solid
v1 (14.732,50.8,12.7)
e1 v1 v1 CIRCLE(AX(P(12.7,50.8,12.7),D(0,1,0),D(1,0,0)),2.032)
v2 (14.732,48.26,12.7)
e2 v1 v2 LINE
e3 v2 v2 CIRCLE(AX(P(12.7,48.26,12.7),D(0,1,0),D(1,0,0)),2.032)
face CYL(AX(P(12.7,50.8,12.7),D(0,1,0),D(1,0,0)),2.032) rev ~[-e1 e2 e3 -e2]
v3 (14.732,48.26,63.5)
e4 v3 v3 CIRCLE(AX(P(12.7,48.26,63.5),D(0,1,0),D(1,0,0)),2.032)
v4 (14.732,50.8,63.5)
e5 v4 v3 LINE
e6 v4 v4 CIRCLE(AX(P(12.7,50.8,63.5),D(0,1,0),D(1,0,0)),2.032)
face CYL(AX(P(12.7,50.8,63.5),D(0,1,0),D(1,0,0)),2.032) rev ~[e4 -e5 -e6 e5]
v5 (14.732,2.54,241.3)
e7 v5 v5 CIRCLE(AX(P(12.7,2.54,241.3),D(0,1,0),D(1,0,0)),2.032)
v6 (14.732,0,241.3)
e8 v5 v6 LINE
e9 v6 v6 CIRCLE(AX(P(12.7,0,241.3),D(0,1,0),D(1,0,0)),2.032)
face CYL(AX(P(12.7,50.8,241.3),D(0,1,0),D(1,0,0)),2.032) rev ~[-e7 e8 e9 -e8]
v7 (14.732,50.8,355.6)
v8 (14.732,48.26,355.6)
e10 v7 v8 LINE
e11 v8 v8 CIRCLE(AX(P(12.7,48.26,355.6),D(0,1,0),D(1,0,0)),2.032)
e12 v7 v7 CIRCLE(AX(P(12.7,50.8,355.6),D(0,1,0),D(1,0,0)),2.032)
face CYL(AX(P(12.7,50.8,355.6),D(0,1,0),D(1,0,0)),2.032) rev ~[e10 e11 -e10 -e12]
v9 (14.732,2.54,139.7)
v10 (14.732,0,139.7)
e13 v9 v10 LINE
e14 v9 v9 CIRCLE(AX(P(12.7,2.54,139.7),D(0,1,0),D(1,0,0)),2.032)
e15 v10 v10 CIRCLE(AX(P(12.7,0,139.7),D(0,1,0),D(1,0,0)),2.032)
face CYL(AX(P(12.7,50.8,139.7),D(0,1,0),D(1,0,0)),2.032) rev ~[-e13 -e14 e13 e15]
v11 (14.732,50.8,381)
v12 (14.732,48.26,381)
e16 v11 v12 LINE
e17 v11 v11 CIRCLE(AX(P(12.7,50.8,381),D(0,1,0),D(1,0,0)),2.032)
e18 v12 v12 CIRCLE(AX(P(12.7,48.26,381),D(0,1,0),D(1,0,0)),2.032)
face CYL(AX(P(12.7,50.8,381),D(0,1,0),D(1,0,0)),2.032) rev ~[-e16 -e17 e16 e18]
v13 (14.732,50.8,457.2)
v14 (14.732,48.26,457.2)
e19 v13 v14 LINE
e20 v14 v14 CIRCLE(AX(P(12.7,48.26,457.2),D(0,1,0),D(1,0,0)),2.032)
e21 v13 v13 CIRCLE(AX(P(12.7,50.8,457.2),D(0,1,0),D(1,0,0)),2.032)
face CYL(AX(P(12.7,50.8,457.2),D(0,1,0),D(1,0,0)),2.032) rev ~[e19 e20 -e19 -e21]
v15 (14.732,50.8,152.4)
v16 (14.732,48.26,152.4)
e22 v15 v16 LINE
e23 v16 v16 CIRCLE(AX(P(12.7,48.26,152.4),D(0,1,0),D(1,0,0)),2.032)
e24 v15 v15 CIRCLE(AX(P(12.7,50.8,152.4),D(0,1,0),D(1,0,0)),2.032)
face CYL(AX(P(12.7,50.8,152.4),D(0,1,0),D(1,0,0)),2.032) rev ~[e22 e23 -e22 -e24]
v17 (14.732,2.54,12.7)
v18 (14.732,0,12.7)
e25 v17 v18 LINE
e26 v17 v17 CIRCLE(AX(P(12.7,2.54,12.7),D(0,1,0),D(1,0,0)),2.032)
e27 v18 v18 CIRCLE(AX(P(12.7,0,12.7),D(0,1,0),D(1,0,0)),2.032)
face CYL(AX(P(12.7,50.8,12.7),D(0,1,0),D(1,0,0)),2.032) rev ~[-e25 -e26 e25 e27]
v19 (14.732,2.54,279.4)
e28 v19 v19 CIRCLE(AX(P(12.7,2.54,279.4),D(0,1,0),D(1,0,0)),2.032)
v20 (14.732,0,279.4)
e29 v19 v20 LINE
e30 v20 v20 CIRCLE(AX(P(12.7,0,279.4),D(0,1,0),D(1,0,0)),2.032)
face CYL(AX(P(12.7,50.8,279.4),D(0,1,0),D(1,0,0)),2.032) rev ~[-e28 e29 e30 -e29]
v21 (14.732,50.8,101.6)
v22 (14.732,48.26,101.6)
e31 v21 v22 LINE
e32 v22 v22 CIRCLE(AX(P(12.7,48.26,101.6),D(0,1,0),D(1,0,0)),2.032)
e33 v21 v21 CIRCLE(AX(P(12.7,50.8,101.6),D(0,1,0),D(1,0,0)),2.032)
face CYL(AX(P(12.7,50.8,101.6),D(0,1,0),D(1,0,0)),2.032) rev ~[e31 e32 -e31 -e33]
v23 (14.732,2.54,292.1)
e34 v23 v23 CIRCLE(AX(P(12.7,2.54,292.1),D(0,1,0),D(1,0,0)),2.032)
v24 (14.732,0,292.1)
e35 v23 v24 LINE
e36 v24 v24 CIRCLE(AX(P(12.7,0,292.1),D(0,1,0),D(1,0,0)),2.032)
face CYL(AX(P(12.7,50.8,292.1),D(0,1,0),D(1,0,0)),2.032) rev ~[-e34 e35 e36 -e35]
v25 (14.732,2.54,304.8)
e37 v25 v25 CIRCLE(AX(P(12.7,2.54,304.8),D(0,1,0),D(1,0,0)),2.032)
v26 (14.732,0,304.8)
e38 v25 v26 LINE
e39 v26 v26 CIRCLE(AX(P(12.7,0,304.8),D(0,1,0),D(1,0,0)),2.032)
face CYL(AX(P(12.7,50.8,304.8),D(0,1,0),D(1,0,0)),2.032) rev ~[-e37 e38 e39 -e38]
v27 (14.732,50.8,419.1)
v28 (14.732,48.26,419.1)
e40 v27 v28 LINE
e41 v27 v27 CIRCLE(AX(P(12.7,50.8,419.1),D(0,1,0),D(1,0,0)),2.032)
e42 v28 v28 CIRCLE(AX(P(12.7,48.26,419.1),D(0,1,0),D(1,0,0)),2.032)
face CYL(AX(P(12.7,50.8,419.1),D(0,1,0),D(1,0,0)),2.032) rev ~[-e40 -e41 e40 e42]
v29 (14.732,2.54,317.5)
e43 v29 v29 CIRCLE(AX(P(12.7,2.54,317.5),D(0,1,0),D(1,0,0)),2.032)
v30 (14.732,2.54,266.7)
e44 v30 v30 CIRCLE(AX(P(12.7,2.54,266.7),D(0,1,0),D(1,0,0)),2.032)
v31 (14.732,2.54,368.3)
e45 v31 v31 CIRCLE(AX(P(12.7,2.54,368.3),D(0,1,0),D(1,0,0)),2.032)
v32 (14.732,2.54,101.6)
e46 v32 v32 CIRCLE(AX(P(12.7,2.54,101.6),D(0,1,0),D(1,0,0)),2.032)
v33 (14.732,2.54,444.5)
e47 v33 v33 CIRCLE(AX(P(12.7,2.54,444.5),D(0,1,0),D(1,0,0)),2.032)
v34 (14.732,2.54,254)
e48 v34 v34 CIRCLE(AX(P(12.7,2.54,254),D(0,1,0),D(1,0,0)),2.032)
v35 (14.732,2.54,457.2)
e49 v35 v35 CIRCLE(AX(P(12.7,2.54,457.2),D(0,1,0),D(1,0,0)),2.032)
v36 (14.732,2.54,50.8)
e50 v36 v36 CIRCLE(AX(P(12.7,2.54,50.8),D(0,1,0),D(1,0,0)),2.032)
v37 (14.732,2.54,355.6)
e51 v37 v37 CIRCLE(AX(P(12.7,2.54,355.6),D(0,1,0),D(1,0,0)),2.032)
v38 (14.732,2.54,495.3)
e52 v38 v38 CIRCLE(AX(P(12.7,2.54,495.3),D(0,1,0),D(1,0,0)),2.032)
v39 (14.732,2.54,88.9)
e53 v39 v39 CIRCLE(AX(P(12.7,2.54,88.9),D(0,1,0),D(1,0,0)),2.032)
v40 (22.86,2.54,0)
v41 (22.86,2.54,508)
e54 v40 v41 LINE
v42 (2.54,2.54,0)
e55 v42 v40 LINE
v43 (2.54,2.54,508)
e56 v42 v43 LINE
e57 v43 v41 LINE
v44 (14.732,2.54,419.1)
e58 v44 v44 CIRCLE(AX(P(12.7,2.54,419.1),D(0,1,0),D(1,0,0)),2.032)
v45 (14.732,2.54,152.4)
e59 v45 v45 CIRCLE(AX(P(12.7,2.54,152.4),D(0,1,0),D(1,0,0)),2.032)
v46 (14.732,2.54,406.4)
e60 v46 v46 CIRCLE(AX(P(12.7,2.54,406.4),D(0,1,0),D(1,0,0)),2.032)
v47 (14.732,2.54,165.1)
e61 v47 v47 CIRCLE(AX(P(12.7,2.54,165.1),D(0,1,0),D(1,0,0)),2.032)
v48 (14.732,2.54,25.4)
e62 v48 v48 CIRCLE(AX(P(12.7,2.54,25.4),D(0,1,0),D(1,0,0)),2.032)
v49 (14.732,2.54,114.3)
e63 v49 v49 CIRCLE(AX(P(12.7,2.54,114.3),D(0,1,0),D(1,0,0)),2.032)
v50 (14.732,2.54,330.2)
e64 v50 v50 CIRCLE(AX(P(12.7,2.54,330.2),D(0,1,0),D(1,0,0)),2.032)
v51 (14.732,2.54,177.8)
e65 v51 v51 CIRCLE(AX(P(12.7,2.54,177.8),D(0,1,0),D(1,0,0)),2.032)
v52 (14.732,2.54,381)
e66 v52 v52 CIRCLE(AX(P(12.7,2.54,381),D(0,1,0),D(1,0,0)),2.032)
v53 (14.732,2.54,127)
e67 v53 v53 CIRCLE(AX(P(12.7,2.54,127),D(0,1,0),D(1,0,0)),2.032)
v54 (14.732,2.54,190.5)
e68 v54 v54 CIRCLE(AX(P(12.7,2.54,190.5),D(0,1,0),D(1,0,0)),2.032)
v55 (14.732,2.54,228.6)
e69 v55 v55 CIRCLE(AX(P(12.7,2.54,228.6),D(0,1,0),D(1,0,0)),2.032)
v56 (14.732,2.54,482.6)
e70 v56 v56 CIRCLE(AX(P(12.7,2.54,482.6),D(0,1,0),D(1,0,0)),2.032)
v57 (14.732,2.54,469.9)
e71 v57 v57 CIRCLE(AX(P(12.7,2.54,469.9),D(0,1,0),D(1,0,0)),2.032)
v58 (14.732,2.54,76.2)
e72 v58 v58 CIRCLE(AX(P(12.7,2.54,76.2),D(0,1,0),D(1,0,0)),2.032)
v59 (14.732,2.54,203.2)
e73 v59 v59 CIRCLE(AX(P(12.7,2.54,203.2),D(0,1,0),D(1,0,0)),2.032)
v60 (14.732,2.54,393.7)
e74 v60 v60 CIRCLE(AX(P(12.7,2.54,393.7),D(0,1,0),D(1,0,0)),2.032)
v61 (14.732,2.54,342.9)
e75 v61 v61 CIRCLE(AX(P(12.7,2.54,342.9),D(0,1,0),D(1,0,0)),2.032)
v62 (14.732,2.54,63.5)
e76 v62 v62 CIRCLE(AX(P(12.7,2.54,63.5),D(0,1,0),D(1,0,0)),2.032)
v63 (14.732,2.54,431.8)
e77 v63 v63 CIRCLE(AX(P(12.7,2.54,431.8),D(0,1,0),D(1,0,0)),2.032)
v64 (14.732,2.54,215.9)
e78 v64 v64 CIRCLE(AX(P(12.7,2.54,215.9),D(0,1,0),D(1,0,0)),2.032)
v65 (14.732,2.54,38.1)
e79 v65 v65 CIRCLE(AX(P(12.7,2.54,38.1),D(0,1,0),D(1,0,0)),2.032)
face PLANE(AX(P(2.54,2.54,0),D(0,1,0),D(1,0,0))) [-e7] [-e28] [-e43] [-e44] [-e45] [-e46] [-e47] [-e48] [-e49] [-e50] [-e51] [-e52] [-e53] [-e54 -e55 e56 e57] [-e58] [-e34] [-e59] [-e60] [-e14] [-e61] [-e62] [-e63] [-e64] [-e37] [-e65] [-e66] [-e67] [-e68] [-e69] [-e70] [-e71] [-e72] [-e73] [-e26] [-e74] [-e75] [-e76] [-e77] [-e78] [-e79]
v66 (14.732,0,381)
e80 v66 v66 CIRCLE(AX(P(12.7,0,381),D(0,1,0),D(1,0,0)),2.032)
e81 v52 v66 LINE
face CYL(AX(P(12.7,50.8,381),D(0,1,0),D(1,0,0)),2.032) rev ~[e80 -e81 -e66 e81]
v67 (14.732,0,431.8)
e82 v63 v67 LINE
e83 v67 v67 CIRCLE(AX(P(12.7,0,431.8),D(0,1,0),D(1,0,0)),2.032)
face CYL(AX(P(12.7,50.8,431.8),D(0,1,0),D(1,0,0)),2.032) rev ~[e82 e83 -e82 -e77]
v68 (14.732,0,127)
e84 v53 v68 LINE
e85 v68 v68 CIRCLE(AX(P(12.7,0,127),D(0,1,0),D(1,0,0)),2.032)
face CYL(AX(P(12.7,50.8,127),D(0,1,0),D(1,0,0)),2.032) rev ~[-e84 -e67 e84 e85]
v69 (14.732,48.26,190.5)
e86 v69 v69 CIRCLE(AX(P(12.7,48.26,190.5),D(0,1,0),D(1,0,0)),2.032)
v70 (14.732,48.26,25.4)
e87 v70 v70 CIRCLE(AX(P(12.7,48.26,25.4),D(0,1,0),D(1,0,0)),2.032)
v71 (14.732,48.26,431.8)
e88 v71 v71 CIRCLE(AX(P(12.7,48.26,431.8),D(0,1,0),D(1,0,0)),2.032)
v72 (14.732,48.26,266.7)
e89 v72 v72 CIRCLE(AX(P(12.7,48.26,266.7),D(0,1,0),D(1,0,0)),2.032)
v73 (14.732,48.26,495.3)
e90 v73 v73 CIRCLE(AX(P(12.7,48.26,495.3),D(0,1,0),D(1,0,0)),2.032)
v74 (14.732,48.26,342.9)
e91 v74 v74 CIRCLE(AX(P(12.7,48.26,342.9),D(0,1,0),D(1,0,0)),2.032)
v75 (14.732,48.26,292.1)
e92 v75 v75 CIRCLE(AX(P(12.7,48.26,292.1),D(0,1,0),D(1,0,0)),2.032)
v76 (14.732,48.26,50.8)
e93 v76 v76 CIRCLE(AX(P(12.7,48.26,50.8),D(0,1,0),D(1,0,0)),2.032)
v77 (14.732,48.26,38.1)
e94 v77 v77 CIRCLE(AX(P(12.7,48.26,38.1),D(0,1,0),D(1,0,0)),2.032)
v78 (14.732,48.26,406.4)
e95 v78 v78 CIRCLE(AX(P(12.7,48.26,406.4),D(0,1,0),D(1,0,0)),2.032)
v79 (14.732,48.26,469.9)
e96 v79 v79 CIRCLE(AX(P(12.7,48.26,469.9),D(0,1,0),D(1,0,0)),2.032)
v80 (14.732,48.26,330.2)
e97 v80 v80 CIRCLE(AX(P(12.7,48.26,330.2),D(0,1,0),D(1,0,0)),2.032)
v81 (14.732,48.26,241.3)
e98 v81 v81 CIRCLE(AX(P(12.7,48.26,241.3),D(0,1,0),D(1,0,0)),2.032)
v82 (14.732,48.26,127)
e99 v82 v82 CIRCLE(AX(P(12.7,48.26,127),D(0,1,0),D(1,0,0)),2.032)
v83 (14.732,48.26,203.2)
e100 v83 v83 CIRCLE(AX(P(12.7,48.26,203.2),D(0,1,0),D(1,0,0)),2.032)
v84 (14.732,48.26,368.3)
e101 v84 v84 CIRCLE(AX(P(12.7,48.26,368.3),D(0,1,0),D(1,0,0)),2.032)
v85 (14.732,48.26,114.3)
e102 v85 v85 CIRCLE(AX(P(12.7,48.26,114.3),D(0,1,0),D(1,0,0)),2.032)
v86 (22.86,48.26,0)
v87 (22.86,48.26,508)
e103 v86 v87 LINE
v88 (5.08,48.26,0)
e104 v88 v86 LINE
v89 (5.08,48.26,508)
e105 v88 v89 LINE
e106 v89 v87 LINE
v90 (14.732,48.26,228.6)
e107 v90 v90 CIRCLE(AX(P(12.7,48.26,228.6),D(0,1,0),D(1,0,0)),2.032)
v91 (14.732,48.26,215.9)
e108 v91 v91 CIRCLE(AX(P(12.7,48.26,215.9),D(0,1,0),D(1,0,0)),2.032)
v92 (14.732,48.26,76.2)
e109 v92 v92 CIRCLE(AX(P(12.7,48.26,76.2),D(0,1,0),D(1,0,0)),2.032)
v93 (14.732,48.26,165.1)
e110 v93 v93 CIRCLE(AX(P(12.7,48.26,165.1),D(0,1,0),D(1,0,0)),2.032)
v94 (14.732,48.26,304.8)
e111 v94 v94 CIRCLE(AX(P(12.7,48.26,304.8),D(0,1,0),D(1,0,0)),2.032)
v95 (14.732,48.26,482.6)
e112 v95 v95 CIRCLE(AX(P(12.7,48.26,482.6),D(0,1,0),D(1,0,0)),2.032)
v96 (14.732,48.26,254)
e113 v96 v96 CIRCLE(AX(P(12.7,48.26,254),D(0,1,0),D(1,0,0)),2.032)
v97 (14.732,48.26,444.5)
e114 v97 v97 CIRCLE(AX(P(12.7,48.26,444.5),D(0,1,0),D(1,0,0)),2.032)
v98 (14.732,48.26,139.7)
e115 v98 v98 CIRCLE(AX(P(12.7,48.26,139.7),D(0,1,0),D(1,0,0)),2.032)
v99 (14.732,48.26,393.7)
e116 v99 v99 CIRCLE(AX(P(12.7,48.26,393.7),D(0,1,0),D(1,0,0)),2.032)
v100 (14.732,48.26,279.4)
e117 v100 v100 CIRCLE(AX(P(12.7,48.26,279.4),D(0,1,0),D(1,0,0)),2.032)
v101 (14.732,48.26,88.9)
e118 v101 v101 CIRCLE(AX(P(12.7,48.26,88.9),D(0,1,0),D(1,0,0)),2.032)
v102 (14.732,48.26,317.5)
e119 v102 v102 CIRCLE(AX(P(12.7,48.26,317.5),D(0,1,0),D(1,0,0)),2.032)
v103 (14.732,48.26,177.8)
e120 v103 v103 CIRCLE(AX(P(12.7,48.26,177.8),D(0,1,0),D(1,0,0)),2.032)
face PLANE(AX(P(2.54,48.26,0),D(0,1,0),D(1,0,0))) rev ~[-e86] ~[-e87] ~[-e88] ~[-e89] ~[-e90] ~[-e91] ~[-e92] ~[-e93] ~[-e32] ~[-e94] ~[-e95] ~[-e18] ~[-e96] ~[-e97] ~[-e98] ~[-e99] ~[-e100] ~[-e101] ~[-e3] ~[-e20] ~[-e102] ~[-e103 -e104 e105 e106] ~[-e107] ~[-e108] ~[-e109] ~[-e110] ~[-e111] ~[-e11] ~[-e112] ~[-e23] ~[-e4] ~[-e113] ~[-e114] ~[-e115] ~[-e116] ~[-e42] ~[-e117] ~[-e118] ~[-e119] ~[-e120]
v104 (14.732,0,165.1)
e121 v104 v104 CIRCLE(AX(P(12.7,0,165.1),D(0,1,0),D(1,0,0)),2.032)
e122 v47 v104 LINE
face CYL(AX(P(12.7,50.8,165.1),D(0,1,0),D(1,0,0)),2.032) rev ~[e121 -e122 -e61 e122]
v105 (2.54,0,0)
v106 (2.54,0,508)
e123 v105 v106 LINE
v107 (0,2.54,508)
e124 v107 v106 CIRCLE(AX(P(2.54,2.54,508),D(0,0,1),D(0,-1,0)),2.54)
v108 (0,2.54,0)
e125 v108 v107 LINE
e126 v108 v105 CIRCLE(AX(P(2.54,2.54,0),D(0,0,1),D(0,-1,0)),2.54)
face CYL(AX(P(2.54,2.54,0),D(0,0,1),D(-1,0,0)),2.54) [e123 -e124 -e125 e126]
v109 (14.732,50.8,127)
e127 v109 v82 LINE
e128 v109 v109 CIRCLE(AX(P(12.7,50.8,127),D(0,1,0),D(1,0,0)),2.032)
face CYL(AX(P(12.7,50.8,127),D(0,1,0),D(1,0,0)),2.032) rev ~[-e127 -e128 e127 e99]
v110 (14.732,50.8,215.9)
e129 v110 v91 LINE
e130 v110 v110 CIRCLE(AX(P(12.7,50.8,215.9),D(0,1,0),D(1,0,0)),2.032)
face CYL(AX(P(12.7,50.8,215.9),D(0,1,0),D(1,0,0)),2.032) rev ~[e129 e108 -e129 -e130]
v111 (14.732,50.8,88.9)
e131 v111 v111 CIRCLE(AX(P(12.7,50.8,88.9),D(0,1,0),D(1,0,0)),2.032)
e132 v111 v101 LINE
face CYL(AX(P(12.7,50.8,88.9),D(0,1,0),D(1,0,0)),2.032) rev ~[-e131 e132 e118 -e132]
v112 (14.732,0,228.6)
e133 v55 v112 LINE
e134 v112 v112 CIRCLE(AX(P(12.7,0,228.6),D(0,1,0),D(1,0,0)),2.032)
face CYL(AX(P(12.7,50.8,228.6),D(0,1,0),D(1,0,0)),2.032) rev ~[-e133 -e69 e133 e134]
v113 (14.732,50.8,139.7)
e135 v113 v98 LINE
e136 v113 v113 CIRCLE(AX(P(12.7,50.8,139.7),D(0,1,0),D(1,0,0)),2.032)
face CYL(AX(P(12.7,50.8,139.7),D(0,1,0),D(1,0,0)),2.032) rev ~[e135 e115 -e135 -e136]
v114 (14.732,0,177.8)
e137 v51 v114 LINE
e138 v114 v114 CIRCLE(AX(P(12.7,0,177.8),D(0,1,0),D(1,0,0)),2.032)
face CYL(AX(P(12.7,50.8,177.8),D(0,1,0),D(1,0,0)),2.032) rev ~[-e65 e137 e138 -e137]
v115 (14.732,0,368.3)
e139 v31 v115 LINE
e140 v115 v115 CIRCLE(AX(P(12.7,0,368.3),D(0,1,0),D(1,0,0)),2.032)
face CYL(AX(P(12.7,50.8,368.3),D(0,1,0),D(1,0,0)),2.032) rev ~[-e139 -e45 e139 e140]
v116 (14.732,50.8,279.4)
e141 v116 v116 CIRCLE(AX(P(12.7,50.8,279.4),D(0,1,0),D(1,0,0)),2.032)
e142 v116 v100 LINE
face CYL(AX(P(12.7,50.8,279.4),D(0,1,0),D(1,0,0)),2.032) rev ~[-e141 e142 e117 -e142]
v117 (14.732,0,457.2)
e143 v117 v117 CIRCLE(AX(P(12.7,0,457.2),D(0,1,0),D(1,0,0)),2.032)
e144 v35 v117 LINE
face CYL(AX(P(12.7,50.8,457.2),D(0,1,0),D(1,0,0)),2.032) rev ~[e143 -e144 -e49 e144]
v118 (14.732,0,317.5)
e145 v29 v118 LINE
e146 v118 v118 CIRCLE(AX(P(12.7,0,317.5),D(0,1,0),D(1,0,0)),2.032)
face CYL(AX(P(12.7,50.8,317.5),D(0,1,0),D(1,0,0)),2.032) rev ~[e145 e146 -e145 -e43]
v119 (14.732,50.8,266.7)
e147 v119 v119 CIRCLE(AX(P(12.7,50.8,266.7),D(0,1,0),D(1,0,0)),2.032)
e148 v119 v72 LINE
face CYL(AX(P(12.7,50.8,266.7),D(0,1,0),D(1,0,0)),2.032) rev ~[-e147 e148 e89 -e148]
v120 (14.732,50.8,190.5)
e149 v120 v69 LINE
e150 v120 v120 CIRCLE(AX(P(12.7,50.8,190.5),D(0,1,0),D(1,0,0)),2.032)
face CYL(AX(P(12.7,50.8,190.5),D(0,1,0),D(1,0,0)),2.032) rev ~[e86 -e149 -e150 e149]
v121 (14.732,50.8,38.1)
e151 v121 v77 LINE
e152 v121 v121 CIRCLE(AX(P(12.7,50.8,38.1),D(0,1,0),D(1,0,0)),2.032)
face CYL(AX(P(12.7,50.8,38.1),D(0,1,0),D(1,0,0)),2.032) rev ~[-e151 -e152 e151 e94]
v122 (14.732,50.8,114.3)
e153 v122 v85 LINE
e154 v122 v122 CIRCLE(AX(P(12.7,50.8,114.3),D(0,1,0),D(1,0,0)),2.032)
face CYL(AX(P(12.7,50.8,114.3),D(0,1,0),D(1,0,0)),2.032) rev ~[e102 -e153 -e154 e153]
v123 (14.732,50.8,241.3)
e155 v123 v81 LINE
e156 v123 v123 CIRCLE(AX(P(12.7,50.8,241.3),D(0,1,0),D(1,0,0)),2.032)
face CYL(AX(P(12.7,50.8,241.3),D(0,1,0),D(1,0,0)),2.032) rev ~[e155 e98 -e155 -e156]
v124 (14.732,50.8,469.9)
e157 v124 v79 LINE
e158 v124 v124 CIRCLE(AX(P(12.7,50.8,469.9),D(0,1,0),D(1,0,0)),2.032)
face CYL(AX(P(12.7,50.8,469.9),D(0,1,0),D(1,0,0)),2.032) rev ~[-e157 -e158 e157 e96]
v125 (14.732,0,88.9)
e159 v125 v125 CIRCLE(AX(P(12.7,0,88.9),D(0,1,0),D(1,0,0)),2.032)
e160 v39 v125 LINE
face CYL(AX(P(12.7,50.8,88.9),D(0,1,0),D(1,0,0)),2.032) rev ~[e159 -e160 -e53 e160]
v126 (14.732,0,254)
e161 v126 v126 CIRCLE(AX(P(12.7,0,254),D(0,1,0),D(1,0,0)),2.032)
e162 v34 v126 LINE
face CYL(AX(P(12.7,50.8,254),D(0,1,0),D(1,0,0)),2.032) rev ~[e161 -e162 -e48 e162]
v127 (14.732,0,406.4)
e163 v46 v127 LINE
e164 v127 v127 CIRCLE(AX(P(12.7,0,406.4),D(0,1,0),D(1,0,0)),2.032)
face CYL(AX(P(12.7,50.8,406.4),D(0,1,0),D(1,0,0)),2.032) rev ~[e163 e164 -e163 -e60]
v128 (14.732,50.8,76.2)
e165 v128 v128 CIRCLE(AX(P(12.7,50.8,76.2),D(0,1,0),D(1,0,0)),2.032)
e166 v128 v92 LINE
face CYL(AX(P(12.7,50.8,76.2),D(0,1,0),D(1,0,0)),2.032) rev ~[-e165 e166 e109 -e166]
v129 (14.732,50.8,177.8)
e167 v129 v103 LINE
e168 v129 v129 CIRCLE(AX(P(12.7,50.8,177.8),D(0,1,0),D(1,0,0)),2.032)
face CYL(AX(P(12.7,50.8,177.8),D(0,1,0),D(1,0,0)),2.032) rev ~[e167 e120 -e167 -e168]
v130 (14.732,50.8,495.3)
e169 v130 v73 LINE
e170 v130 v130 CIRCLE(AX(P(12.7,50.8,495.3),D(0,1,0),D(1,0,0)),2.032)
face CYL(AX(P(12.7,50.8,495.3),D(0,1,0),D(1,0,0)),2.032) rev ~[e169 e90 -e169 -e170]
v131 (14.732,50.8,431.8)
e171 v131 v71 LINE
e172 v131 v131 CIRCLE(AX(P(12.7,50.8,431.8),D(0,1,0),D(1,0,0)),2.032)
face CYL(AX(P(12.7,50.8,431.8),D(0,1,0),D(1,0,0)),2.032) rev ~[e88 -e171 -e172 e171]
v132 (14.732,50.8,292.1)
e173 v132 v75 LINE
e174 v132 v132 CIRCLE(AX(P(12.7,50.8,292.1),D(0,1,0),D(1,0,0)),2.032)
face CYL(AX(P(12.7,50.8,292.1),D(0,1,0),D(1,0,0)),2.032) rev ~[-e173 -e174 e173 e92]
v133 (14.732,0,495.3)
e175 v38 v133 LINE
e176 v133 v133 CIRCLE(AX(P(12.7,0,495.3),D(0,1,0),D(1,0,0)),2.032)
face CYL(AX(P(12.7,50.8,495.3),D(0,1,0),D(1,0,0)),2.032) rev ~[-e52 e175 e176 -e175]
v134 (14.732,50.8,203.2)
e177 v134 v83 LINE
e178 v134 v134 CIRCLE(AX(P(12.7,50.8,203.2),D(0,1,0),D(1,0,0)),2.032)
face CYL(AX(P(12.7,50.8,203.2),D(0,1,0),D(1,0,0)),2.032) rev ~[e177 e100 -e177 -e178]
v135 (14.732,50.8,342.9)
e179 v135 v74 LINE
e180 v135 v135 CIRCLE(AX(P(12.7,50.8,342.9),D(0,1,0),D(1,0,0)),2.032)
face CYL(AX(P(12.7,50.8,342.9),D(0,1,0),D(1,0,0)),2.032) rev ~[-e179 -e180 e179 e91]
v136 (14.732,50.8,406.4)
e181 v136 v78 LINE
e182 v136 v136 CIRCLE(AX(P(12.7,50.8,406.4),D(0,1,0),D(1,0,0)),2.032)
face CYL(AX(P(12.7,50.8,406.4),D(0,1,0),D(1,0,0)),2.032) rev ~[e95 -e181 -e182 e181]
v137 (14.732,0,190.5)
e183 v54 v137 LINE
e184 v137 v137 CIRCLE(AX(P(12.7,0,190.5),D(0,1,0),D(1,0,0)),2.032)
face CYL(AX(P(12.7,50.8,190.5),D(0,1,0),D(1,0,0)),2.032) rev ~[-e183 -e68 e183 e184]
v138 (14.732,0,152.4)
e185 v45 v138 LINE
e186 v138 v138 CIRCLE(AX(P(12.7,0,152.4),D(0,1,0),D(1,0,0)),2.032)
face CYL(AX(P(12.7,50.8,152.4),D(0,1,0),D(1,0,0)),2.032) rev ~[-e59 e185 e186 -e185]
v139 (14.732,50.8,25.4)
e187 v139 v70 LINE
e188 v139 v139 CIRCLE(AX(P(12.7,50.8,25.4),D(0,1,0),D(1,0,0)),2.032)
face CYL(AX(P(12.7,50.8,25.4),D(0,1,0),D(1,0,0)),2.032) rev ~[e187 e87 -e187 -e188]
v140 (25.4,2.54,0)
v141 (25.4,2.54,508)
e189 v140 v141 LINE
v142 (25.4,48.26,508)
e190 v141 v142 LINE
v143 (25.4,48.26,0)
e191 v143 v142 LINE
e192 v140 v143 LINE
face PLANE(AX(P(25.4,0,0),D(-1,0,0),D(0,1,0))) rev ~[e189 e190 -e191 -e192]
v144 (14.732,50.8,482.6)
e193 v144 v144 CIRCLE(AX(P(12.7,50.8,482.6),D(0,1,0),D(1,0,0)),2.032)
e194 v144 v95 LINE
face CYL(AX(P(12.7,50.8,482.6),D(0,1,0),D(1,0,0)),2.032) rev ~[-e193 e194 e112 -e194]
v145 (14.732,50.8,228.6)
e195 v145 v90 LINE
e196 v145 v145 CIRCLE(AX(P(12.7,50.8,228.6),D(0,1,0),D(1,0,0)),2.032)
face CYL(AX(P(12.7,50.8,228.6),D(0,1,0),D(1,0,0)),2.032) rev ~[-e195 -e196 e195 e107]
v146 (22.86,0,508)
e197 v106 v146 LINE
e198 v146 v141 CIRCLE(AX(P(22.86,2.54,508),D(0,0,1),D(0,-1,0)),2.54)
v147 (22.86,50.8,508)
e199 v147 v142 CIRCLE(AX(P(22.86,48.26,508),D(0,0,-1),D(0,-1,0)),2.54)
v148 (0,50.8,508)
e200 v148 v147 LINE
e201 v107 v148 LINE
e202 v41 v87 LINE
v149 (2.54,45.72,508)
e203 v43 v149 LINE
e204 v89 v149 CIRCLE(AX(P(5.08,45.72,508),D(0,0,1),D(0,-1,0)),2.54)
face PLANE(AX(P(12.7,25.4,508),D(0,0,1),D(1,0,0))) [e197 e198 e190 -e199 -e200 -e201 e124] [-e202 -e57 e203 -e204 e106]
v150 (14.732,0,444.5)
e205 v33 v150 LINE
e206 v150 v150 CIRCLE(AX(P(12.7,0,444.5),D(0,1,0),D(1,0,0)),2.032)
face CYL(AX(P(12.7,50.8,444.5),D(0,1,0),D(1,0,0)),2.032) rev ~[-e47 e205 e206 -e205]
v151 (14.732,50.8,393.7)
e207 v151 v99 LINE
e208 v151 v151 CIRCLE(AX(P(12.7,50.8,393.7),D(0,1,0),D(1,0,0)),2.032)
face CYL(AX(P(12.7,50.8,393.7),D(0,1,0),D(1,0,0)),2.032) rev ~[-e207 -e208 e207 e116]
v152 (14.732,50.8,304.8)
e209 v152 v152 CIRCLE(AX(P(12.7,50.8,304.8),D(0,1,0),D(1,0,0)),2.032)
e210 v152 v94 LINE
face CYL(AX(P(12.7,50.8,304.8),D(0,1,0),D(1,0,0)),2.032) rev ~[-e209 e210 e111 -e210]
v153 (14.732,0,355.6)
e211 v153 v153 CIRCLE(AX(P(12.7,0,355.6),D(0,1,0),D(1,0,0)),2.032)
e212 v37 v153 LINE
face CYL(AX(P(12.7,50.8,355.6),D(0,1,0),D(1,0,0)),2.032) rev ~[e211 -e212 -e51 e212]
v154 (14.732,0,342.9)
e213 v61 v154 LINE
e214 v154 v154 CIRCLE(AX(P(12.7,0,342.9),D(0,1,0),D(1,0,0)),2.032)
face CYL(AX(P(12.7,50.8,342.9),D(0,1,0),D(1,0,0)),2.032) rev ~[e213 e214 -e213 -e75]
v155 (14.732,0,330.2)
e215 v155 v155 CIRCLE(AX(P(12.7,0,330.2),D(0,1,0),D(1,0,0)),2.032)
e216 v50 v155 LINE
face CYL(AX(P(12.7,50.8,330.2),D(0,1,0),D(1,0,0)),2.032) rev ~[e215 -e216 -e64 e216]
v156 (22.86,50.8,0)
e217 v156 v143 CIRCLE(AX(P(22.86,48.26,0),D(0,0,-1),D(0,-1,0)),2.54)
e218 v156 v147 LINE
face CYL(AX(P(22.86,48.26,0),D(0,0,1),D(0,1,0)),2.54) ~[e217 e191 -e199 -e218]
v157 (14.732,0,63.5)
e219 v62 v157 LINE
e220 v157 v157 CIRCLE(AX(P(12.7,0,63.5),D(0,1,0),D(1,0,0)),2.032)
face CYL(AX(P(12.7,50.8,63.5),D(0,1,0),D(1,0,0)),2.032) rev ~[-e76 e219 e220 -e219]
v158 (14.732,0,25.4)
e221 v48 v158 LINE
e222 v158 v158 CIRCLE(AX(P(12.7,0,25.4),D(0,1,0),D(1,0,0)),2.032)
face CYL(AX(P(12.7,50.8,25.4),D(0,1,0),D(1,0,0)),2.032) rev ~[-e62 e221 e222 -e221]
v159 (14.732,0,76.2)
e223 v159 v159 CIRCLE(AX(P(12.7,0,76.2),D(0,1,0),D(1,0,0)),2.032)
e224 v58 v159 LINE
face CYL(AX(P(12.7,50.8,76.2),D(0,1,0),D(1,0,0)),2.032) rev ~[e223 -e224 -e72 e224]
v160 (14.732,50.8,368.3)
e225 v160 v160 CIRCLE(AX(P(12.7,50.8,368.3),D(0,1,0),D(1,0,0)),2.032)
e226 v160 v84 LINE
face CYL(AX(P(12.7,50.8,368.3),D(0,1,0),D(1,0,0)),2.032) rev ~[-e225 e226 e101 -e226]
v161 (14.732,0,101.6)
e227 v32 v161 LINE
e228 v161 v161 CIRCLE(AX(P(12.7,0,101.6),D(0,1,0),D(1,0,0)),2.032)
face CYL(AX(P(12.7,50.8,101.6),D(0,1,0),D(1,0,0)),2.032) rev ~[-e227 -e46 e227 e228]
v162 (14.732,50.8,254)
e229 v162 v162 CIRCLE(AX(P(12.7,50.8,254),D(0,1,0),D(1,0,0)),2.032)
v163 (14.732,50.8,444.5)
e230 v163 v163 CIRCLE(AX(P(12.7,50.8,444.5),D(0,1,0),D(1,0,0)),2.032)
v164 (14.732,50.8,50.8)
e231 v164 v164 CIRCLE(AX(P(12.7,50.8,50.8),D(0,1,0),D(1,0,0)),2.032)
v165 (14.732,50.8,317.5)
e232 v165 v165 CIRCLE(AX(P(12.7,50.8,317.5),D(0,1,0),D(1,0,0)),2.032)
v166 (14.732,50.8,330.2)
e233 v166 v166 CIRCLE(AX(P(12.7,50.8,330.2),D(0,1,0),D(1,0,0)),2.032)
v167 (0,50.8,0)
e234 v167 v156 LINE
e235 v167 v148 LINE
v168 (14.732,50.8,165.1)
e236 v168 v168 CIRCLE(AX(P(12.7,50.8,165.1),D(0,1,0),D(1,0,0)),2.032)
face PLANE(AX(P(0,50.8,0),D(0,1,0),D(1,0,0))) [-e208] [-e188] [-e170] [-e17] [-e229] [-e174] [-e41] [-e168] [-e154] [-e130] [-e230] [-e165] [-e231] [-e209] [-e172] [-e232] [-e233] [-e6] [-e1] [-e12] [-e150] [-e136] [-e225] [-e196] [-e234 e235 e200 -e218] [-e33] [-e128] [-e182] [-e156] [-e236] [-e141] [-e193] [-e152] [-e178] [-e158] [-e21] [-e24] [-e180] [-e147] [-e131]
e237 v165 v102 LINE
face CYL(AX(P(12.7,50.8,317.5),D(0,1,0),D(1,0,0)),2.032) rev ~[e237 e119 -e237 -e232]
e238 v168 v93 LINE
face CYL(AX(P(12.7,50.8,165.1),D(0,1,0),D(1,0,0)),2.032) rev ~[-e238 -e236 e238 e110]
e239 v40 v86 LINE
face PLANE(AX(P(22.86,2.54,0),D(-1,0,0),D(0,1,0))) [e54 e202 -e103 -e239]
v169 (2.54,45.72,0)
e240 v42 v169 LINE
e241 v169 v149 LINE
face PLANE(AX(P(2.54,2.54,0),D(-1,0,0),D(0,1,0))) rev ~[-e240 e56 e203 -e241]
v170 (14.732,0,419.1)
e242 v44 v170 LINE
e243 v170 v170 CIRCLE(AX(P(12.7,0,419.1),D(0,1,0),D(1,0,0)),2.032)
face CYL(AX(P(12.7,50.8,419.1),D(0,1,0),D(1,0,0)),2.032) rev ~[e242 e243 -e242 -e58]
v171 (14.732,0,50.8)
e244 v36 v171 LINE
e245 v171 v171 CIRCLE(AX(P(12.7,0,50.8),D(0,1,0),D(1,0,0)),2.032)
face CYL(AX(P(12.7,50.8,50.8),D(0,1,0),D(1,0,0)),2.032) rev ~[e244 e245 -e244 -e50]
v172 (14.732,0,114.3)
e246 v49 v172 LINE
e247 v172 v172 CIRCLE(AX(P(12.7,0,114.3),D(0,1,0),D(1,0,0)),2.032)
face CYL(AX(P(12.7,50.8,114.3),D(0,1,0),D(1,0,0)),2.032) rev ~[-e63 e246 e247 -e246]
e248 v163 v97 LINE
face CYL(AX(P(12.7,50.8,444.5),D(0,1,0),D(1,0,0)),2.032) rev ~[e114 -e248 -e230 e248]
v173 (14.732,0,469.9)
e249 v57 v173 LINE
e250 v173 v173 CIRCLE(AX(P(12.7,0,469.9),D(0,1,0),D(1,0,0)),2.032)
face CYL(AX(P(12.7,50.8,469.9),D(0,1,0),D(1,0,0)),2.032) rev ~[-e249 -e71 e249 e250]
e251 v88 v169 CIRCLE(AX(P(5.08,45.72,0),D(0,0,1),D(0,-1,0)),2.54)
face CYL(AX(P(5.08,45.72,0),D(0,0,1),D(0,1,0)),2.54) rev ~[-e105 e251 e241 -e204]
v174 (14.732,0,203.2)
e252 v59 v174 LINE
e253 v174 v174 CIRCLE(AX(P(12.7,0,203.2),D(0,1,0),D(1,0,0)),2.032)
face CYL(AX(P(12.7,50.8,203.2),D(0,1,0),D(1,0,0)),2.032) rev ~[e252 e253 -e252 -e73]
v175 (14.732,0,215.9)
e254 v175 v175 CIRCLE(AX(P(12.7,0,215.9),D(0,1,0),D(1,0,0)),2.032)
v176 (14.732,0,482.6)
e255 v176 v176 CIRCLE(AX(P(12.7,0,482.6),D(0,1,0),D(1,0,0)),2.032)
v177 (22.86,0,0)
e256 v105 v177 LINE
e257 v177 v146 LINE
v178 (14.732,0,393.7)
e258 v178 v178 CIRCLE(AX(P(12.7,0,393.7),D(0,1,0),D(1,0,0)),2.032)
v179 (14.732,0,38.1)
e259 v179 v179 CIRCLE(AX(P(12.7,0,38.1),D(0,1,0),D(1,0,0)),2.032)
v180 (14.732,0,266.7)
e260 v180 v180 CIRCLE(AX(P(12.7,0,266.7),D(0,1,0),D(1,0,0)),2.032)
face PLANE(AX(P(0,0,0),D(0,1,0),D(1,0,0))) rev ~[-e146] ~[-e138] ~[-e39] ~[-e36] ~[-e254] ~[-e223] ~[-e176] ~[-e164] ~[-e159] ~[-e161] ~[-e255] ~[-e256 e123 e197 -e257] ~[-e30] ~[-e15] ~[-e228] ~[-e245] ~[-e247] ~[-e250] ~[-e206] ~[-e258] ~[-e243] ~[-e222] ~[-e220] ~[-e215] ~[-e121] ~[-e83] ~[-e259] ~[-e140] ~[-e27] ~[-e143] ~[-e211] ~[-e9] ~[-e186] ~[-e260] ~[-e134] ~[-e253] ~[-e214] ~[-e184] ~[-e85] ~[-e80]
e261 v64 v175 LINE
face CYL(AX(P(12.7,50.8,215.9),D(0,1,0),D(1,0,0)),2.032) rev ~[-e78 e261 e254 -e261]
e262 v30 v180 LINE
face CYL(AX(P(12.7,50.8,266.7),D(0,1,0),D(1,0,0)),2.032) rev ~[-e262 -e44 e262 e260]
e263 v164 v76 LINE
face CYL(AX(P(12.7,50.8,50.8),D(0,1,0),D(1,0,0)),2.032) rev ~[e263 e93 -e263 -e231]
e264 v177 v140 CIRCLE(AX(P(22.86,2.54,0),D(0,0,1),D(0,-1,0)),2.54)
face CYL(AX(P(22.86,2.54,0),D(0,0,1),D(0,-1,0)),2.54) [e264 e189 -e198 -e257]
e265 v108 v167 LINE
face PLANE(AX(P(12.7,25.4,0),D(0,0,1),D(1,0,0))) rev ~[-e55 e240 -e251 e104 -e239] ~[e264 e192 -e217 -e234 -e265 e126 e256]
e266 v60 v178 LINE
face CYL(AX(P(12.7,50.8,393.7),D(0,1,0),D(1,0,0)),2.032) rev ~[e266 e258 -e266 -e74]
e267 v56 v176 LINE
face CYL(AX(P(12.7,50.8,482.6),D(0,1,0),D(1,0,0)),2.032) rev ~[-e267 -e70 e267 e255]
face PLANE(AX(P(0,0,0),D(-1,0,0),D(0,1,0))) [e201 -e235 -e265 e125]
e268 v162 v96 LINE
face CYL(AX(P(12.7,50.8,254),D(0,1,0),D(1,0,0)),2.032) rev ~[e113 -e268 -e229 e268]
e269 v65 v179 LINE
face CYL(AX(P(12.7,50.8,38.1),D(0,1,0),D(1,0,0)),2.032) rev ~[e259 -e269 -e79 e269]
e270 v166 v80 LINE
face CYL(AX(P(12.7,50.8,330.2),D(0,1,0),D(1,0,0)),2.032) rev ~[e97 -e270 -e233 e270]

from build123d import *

# Parameters (mm, degrees)
SKETCH1_W           = 25.4
SKETCH1_H           = 50.8
SKETCH1_W_2         = 20.32
SKETCH1_H_2         = 45.72
BOSS_EXTRUDE1_DEPTH = 508
SKETCH2_R           = 2.032
CUT_EXTRUDE1_DEPTH  = 508
FILLET1_R           = 2.54


with BuildPart() as part:
    # Sketch1 → Boss-Extrude1 (new body)
    with BuildSketch(Plane.XY):
        with Locations((12.7, 25.4)):
            Rectangle(SKETCH1_W, SKETCH1_H)
        with Locations((12.7, 25.4)):
            Rectangle(SKETCH1_W_2, SKETCH1_H_2, mode=Mode.SUBTRACT)
    extrude(amount=BOSS_EXTRUDE1_DEPTH)

    # Sketch2 → Cut-Extrude1 (cut)
    with BuildSketch(Plane(origin=(0, 50.8, 0), x_dir=(1, 0, 0), z_dir=(0, 1, 0))):
        with Locations((12.7, -12.7)):
            Circle(SKETCH2_R)
        with Locations((12.7, -25.4)):
            Circle(SKETCH2_R)
        with Locations((12.7, -38.1)):
            Circle(SKETCH2_R)
        with Locations((12.7, -50.8)):
            Circle(SKETCH2_R)
        with Locations((12.7, -63.5)):
            Circle(SKETCH2_R)
        with Locations((12.7, -76.2)):
            Circle(SKETCH2_R)
        with Locations((12.7, -88.9)):
            Circle(SKETCH2_R)
        with Locations((12.7, -101.6)):
            Circle(SKETCH2_R)
        with Locations((12.7, -114.3)):
            Circle(SKETCH2_R)
        with Locations((12.7, -127)):
            Circle(SKETCH2_R)
        with Locations((12.7, -139.7)):
            Circle(SKETCH2_R)
        with Locations((12.7, -152.4)):
            Circle(SKETCH2_R)
        with Locations((12.7, -165.1)):
            Circle(SKETCH2_R)
        with Locations((12.7, -177.8)):
            Circle(SKETCH2_R)
        with Locations((12.7, -190.5)):
            Circle(SKETCH2_R)
        with Locations((12.7, -203.2)):
            Circle(SKETCH2_R)
        with Locations((12.7, -215.9)):
            Circle(SKETCH2_R)
        with Locations((12.7, -228.6)):
            Circle(SKETCH2_R)
        with Locations((12.7, -241.3)):
            Circle(SKETCH2_R)
        with Locations((12.7, -254)):
            Circle(SKETCH2_R)
        with Locations((12.7, -266.7)):
            Circle(SKETCH2_R)
        with Locations((12.7, -279.4)):
            Circle(SKETCH2_R)
        with Locations((12.7, -292.1)):
            Circle(SKETCH2_R)
        with Locations((12.7, -304.8)):
            Circle(SKETCH2_R)
        with Locations((12.7, -317.5)):
            Circle(SKETCH2_R)
        with Locations((12.7, -330.2)):
            Circle(SKETCH2_R)
        with Locations((12.7, -342.9)):
            Circle(SKETCH2_R)
        with Locations((12.7, -355.6)):
            Circle(SKETCH2_R)
        with Locations((12.7, -368.3)):
            Circle(SKETCH2_R)
        with Locations((12.7, -381)):
            Circle(SKETCH2_R)
        with Locations((12.7, -393.7)):
            Circle(SKETCH2_R)
        with Locations((12.7, -406.4)):
            Circle(SKETCH2_R)
        with Locations((12.7, -419.1)):
            Circle(SKETCH2_R)
        with Locations((12.7, -431.8)):
            Circle(SKETCH2_R)
        with Locations((12.7, -444.5)):
            Circle(SKETCH2_R)
        with Locations((12.7, -457.2)):
            Circle(SKETCH2_R)
        with Locations((12.7, -469.9)):
            Circle(SKETCH2_R)
        with Locations((12.7, -482.6)):
            Circle(SKETCH2_R)
        with Locations((12.7, -495.3)):
            Circle(SKETCH2_R)
    extrude(amount=-CUT_EXTRUDE1_DEPTH, mode=Mode.SUBTRACT)

    # Fillet1
    fillet1_edges = [part.edges().sort_by_distance(p)[0] for p in [
        (2.54, 48.26, 254),
        (25.4, 50.8, 254),
        (25.4, 0, 254),
        (0, 0, 254),
    ]]
    fillet(fillet1_edges, radius=FILLET1_R)


solid = part.part
